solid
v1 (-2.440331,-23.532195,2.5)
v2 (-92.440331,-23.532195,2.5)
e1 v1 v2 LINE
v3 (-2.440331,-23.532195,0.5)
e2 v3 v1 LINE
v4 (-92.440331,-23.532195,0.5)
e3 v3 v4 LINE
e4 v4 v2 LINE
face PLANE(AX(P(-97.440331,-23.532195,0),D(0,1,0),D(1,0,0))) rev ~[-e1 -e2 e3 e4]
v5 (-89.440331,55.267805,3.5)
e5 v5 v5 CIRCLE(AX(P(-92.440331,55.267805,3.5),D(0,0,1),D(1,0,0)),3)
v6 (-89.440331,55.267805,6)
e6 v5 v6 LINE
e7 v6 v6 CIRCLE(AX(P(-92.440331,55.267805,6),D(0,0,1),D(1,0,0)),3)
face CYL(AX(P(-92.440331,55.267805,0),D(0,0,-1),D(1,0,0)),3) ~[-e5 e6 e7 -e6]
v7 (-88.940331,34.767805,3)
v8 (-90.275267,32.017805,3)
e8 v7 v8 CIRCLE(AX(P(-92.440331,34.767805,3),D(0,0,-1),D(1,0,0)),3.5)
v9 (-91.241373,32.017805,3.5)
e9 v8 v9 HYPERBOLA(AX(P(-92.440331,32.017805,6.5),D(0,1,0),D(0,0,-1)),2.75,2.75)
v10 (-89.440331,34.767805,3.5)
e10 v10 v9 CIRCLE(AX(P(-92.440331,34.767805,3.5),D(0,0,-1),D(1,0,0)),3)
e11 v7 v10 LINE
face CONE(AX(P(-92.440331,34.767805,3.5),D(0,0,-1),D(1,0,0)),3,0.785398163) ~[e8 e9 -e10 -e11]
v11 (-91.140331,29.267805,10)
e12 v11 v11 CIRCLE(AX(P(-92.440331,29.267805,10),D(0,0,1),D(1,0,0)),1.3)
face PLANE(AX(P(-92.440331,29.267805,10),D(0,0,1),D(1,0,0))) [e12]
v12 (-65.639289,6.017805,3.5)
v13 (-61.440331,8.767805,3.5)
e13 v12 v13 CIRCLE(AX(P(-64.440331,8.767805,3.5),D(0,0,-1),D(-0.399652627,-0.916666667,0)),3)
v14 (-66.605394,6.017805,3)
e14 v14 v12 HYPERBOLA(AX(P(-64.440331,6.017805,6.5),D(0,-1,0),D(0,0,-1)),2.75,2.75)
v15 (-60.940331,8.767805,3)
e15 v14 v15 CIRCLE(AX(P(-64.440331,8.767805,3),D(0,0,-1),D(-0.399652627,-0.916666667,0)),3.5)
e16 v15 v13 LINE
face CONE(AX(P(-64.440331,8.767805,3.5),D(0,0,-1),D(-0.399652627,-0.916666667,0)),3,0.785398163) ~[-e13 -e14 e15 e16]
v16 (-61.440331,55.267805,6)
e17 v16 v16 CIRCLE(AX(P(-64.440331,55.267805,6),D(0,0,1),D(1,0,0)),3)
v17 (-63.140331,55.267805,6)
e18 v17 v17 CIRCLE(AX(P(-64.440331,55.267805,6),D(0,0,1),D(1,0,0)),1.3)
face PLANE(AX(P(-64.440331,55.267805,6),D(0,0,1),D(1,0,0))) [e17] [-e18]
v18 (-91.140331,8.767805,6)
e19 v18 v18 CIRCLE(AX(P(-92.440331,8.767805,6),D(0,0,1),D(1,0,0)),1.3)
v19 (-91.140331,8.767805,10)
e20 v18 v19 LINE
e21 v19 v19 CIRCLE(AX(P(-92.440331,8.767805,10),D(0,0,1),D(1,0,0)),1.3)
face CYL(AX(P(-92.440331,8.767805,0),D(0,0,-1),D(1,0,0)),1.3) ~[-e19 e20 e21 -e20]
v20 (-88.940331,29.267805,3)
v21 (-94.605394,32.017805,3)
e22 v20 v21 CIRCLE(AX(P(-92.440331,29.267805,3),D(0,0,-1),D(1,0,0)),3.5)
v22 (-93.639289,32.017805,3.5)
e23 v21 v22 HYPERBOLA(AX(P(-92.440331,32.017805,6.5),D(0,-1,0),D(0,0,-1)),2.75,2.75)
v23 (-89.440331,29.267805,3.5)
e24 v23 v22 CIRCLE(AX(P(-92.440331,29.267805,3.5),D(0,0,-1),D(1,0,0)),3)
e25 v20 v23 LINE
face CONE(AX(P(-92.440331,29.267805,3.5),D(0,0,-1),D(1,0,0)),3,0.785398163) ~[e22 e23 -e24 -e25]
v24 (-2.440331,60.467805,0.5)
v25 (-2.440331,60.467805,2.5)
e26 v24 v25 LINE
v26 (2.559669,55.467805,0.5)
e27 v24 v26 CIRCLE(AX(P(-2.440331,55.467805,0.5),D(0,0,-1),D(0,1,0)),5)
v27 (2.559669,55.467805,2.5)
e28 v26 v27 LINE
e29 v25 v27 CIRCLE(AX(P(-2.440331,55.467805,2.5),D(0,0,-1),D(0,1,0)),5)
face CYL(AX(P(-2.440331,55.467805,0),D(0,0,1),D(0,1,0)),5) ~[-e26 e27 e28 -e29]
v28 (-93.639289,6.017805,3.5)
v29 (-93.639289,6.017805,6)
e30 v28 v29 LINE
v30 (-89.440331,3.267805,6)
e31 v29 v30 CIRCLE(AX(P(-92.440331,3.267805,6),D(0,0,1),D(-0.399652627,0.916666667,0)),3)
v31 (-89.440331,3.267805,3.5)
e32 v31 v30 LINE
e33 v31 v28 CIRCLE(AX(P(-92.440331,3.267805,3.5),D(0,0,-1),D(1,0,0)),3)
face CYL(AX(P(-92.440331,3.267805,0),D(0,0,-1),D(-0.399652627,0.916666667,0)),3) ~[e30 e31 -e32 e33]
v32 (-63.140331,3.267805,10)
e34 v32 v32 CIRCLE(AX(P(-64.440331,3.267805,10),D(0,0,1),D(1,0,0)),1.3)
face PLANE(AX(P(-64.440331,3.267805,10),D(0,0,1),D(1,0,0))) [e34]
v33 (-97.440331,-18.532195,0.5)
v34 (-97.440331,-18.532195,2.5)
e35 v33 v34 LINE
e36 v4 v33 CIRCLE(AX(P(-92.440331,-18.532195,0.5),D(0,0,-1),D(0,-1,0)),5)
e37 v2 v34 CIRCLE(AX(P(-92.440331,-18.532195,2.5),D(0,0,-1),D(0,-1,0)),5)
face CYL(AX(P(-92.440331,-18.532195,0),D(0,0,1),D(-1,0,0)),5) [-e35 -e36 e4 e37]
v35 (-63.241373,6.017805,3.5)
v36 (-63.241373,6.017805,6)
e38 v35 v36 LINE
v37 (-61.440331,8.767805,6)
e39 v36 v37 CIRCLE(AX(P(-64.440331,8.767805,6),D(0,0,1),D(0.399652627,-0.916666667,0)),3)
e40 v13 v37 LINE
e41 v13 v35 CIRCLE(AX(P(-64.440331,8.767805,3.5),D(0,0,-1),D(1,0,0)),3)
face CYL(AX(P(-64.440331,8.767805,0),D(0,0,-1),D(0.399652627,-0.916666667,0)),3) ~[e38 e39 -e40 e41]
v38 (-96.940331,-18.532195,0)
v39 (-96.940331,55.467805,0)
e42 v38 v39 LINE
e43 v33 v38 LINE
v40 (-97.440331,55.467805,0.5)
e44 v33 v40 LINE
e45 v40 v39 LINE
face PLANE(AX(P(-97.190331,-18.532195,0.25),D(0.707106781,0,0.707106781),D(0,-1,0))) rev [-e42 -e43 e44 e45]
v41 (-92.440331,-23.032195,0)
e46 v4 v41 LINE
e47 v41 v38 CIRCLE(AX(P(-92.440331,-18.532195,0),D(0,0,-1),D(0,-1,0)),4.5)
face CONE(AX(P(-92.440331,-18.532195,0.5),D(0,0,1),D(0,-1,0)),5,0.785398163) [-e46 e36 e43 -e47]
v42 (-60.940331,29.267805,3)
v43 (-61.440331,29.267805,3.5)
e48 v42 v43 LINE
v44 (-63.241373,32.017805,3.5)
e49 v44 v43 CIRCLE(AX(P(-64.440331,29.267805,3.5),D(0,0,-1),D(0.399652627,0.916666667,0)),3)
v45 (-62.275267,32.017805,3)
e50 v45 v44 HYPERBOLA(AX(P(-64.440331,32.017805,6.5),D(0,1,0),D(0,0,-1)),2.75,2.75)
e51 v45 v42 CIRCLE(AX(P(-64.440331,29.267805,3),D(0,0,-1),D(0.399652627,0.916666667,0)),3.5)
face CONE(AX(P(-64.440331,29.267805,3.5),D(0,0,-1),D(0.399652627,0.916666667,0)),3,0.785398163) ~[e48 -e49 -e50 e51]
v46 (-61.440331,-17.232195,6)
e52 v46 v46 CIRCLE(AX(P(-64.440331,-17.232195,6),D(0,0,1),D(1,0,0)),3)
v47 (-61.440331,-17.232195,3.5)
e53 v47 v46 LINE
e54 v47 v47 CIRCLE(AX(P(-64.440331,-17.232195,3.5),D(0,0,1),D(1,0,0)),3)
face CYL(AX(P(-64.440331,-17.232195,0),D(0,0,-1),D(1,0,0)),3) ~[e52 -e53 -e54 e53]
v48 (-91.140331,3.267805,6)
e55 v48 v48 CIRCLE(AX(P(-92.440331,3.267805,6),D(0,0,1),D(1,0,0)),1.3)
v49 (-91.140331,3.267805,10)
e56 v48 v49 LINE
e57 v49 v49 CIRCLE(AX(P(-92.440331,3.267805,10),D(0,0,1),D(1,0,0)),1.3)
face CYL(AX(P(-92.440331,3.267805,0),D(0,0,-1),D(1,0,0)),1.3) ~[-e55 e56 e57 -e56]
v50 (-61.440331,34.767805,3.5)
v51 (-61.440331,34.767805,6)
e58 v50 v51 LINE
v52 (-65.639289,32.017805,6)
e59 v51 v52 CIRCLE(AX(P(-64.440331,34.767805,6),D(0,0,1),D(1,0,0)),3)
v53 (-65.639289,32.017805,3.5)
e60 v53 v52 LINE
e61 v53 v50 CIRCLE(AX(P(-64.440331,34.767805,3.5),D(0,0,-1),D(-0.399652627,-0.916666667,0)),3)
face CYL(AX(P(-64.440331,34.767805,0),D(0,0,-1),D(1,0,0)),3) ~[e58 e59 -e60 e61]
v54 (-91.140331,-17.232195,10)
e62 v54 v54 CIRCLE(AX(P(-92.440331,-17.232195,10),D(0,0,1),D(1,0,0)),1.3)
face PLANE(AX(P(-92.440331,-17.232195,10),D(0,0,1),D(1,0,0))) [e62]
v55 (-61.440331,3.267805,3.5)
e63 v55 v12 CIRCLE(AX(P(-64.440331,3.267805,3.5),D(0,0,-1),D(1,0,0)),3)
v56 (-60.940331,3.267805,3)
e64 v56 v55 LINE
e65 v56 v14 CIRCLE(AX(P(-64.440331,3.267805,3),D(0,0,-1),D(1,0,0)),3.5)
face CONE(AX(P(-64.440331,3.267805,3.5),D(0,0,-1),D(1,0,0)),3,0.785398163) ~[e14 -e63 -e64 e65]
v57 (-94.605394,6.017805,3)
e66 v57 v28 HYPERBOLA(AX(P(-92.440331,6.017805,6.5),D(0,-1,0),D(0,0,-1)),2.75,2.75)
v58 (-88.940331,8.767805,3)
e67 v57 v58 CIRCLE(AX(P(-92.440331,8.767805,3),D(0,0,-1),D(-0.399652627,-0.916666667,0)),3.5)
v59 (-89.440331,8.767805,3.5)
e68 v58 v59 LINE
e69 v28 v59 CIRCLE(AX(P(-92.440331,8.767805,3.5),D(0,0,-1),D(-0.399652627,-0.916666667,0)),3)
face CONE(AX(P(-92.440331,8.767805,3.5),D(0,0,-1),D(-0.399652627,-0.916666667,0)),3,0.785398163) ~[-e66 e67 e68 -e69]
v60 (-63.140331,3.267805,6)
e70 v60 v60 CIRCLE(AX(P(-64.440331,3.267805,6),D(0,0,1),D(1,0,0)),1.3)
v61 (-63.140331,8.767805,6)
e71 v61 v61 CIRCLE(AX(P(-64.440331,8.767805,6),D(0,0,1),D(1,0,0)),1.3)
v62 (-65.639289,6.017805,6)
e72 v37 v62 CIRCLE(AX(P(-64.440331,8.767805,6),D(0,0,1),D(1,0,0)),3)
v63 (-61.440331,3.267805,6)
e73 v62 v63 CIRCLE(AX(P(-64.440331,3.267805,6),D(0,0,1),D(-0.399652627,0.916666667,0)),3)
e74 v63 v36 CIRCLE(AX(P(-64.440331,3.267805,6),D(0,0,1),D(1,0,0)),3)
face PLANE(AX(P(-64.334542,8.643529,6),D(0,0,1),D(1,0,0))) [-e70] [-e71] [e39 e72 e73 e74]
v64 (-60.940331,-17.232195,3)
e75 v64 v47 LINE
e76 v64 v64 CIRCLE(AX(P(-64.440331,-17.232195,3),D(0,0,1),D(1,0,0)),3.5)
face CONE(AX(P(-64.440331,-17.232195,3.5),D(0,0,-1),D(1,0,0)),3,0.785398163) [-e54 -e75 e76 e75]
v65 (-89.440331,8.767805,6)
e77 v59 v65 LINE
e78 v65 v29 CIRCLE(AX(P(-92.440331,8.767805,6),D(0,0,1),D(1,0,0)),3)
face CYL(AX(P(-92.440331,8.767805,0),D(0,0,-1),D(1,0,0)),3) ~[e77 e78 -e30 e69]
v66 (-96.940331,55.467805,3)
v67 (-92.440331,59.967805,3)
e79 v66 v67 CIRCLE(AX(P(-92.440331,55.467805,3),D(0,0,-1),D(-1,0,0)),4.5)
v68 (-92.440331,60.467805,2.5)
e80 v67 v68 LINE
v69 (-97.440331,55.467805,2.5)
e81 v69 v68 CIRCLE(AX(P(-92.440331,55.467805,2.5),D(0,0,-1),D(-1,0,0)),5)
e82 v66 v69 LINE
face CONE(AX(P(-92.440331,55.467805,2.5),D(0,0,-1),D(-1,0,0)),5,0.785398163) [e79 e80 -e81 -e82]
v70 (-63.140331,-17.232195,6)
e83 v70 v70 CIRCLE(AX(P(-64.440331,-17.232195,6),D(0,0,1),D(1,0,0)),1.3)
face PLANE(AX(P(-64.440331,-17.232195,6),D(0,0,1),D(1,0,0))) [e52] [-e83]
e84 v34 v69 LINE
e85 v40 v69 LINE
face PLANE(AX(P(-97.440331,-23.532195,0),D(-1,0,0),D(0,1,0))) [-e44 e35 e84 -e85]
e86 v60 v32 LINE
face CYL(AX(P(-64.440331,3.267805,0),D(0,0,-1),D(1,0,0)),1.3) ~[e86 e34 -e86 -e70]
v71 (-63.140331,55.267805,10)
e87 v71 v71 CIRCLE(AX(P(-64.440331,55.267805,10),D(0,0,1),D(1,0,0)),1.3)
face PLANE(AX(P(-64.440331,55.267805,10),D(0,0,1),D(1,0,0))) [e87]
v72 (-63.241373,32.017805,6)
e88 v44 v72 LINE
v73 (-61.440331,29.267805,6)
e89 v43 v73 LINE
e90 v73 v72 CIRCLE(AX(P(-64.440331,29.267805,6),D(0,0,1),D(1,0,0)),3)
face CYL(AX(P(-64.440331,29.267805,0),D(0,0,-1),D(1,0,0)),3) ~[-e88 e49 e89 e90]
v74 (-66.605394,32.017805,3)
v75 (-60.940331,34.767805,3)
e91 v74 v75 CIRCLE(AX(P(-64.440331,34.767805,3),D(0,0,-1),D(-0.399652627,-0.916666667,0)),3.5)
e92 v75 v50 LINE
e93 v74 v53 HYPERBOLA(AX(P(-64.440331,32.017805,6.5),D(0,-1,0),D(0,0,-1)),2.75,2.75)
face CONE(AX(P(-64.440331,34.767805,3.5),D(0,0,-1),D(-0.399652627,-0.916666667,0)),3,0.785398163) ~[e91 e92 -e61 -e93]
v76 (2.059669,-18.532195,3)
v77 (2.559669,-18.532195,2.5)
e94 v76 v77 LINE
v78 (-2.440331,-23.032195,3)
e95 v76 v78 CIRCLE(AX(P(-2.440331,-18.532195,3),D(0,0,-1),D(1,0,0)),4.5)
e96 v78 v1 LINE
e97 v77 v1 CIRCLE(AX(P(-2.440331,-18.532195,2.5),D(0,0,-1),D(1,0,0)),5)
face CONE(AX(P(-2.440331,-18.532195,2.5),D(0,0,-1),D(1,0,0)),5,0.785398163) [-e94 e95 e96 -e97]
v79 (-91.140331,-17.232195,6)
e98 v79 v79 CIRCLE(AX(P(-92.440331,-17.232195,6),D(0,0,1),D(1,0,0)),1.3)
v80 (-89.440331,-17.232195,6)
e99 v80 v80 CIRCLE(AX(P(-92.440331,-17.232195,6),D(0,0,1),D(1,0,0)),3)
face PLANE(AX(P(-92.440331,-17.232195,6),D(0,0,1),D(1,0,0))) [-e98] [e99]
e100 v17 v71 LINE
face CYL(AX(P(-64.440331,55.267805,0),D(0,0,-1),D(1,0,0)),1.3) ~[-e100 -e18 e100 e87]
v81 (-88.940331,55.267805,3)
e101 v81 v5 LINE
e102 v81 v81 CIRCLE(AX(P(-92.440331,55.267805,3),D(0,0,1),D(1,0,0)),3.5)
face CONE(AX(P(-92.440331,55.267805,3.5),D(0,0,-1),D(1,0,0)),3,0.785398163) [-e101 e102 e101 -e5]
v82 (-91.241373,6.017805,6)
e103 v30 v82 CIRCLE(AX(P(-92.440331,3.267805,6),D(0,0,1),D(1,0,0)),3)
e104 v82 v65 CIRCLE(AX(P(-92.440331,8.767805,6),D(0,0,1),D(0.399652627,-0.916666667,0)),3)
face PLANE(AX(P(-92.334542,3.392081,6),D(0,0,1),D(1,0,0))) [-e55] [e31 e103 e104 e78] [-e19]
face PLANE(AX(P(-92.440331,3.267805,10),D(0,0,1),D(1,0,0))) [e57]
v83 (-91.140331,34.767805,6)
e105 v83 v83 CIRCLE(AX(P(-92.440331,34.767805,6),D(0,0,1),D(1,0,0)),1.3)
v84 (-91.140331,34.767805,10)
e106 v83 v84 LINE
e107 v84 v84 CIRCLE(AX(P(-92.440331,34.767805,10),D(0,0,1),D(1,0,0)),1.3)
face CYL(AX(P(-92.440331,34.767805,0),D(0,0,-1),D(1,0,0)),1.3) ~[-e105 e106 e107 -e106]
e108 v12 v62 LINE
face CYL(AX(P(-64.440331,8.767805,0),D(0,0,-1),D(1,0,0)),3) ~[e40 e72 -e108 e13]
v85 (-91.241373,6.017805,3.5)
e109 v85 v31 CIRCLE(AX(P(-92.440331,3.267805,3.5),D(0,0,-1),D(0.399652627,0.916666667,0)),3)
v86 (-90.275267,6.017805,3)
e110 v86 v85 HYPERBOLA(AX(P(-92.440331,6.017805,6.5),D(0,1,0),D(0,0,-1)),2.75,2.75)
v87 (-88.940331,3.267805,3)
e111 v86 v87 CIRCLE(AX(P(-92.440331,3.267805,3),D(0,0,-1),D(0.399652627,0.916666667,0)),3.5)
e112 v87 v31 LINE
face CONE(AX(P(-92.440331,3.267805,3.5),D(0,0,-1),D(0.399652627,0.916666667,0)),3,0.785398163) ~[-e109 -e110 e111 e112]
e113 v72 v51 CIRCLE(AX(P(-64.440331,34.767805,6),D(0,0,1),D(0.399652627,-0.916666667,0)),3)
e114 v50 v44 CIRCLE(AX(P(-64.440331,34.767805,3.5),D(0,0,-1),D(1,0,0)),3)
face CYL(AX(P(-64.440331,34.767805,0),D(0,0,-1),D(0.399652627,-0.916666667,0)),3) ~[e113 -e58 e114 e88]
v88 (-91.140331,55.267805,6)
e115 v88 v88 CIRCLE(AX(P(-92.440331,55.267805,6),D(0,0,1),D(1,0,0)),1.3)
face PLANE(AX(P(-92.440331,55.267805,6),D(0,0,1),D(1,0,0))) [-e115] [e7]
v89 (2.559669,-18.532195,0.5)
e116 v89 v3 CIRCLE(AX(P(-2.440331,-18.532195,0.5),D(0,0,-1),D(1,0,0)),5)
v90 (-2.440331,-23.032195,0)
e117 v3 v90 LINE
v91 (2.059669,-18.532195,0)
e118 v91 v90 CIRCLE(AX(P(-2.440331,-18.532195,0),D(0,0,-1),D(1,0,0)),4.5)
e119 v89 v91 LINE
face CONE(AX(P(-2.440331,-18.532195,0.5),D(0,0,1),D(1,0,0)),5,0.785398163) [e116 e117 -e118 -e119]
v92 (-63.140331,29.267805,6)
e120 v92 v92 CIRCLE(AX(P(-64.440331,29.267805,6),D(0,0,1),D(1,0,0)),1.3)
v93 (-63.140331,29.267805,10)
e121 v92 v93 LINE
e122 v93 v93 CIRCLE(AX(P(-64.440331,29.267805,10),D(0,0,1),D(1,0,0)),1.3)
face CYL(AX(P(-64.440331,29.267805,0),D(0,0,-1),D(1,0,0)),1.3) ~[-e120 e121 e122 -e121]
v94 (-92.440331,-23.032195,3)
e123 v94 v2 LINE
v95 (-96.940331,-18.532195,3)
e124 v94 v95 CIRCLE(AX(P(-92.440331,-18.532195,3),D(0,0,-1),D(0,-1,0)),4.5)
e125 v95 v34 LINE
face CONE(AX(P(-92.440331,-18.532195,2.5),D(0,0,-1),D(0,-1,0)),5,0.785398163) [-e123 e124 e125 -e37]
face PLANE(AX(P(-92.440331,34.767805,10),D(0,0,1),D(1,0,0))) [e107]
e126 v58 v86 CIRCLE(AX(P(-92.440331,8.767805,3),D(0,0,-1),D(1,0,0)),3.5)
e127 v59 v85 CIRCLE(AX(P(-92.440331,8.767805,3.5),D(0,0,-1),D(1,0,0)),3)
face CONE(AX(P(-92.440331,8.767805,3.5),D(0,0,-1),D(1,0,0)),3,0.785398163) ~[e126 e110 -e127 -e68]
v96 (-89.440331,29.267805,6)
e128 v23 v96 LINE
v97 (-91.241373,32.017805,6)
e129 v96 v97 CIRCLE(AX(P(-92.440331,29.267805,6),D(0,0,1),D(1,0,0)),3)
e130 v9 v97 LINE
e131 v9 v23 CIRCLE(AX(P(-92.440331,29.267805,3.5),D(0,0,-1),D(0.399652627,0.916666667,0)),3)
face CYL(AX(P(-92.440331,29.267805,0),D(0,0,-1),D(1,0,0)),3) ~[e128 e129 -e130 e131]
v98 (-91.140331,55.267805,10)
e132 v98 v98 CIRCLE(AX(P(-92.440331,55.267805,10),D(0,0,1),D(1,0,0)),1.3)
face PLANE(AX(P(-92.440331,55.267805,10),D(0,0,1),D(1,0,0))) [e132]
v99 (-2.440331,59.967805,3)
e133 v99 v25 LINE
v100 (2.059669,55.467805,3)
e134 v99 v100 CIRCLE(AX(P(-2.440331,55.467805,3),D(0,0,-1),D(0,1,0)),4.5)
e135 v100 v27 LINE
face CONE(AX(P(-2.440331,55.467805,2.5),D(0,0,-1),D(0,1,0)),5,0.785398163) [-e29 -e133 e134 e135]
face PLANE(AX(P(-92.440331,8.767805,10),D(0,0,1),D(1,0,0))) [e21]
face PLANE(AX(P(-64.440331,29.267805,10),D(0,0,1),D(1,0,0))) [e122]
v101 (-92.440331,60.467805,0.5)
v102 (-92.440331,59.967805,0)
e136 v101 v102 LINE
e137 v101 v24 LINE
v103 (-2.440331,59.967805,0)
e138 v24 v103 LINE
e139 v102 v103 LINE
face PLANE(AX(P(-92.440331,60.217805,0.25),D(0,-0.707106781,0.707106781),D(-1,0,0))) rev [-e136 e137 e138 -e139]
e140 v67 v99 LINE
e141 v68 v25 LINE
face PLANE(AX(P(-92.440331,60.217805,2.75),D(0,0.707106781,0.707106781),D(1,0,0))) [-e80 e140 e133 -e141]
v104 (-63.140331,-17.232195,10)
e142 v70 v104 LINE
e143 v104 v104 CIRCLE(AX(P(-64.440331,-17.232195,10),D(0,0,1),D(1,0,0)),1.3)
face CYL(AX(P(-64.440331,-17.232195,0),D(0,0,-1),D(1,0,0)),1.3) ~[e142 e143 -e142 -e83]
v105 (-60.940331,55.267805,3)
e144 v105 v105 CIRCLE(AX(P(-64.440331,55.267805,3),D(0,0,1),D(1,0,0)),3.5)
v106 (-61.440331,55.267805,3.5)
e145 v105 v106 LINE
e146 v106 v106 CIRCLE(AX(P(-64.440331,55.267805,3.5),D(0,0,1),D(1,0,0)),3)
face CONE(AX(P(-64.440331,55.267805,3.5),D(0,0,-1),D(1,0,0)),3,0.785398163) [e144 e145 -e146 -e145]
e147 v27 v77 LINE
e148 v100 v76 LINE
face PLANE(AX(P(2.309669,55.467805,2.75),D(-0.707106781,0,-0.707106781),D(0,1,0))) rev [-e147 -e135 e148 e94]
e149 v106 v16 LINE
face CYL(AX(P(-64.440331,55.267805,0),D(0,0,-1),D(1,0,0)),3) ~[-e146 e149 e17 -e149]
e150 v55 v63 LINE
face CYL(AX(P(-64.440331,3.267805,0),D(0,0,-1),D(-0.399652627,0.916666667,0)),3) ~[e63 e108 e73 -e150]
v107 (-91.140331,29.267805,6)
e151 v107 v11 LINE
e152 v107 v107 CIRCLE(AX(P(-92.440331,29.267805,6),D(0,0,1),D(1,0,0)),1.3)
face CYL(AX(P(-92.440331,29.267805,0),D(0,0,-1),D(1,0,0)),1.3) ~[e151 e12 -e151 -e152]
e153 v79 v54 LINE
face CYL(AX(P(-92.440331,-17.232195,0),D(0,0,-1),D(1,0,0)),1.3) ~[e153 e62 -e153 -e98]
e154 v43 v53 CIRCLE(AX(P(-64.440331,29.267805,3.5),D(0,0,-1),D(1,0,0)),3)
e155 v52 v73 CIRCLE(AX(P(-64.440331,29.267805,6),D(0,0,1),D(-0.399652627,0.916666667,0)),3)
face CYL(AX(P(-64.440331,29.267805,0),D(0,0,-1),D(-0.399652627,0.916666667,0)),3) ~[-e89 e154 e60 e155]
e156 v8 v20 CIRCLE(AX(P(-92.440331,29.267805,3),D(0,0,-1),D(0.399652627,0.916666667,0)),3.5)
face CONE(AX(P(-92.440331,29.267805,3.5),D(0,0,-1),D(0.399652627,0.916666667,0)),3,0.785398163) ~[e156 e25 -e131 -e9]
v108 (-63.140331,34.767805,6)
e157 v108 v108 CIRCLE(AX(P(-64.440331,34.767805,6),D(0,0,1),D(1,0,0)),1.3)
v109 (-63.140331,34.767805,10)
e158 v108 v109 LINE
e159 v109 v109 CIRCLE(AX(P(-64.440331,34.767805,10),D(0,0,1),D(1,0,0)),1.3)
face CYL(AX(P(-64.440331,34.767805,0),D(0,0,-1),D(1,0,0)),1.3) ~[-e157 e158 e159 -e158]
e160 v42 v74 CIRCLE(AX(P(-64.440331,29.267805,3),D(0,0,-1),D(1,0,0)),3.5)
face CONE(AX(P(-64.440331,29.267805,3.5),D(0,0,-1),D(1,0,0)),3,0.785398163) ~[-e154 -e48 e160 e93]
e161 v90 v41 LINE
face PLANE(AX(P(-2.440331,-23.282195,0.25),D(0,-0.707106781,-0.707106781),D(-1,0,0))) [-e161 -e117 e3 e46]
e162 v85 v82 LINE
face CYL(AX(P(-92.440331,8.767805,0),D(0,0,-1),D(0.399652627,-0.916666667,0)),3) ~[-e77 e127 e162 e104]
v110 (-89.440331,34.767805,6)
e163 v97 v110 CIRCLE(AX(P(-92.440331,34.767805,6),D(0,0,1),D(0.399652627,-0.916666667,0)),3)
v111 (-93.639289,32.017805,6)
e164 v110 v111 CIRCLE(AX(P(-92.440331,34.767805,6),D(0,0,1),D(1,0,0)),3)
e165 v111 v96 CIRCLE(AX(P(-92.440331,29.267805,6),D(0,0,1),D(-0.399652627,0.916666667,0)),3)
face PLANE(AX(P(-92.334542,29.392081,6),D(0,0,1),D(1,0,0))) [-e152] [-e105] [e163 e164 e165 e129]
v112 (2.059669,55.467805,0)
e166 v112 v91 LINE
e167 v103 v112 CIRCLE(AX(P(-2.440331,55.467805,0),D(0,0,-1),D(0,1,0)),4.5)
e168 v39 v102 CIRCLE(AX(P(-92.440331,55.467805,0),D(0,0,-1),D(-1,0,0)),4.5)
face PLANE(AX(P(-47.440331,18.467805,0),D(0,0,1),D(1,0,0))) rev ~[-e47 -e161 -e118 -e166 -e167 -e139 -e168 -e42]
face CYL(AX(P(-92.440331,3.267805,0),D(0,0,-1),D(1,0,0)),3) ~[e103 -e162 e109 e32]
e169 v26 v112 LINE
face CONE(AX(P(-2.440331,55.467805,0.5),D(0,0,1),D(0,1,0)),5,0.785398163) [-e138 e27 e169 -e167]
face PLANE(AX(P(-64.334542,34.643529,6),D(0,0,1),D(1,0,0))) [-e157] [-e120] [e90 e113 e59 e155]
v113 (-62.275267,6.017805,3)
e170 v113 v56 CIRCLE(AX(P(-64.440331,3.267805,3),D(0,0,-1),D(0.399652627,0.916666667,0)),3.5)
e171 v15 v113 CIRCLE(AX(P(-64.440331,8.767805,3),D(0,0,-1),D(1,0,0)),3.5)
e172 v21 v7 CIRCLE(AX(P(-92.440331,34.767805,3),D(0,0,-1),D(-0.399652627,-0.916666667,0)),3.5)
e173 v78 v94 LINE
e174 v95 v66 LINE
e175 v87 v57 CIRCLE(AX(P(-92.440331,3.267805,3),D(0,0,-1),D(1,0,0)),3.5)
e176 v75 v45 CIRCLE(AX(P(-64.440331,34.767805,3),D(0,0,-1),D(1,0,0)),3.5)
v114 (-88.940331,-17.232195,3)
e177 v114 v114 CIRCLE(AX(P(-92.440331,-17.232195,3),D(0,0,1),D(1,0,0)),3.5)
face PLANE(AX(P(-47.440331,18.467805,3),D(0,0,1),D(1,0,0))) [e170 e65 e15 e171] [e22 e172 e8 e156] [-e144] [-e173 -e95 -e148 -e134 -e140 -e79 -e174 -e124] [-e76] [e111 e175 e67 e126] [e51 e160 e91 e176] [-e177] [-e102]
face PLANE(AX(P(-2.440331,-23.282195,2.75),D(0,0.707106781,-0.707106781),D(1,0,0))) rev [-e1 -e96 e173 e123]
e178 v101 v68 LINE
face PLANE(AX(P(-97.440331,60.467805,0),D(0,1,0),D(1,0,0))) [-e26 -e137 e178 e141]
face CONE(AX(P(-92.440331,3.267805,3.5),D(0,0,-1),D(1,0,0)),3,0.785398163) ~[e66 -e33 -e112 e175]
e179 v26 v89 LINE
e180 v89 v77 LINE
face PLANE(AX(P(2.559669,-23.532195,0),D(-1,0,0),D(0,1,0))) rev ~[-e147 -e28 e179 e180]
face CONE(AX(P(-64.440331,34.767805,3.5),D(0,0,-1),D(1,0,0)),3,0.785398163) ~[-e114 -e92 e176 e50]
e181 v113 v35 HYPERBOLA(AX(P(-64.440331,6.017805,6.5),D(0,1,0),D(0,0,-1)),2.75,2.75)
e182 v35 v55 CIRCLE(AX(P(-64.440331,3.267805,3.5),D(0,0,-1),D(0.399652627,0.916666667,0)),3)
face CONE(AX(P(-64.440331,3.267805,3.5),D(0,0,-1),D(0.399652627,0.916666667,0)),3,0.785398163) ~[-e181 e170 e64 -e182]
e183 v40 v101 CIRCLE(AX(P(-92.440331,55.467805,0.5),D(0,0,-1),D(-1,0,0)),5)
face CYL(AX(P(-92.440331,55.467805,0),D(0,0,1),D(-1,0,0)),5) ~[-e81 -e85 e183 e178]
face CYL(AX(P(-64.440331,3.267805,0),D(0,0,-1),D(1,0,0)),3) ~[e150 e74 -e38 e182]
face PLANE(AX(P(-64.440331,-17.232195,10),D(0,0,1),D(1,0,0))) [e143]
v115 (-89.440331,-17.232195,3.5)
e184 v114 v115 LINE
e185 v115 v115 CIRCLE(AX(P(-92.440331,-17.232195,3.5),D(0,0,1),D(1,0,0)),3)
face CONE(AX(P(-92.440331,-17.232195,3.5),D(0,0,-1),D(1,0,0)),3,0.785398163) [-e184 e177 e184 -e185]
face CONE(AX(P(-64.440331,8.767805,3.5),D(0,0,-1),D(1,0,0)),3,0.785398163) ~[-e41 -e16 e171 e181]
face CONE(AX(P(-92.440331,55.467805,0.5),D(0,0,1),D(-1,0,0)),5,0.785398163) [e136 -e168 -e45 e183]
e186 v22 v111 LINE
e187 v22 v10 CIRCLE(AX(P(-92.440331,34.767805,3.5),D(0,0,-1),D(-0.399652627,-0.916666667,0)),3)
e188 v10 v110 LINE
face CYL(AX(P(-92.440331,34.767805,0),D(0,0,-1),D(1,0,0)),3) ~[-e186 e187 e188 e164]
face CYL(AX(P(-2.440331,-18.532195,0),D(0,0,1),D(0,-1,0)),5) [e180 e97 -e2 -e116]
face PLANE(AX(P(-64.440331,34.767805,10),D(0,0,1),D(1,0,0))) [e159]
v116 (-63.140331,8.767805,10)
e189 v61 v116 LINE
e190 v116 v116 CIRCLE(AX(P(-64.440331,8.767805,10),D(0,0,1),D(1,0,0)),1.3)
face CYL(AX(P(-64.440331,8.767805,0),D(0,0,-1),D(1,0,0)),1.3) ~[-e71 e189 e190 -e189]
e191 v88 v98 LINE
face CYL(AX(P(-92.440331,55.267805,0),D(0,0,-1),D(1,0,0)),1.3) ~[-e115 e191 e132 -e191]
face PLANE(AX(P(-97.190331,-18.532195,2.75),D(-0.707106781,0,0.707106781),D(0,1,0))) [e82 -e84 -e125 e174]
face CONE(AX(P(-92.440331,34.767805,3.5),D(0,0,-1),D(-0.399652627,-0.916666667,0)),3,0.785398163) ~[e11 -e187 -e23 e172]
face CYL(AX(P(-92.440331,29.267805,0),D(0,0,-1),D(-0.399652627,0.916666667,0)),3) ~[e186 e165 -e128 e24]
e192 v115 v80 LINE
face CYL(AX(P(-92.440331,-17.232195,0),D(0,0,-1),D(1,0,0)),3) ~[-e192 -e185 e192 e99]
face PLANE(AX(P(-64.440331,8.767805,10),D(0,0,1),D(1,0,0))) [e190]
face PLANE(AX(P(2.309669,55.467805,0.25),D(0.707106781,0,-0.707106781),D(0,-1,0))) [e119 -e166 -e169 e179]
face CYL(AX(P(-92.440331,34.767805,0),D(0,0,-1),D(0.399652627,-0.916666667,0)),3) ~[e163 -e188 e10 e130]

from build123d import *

# Parameters (mm, degrees)
F0_R     = 1.3
F1_DEPTH = 10
F0_R_2   = 3
F2_DEPTH = 6
F0_W     = 100
F0_H     = 84
F3_DEPTH = 3
F5_R     = 5
F6_SIZE  = 0.5
F7_SIZE  = 0.5


with BuildPart() as f1:
    # F0 (on Top) → F1 (new body)
    with BuildSketch(Plane.XY):
        with Locations((-92.4403309263, 55.2678049833)):
            Circle(F0_R)
    extrude(amount=F1_DEPTH)


with BuildPart() as f1b:
    # F0 (on Top) → F1, piece 2 (new body)
    with BuildSketch(Plane.XY):
        with Locations((-64.4403309263, 55.2678049833)):
            Circle(F0_R)
    extrude(amount=F1_DEPTH)


with BuildPart() as f1c:
    # F0 (on Top) → F1, piece 3 (new body)
    with BuildSketch(Plane.XY):
        with Locations((-64.4403309263, 34.7678049833)):
            Circle(F0_R)
    extrude(amount=F1_DEPTH)


with BuildPart() as f1d:
    # F0 (on Top) → F1, piece 4 (new body)
    with BuildSketch(Plane.XY):
        with Locations((-64.4403309263, 29.2678049833)):
            Circle(F0_R)
    extrude(amount=F1_DEPTH)


with BuildPart() as f1e:
    # F0 (on Top) → F1, piece 5 (new body)
    with BuildSketch(Plane.XY):
        with Locations((-64.4403309263, 8.7678049833)):
            Circle(F0_R)
    extrude(amount=F1_DEPTH)


with BuildPart() as f1f:
    # F0 (on Top) → F1, piece 6 (new body)
    with BuildSketch(Plane.XY):
        with Locations((-64.4403309263, 3.2678049833)):
            Circle(F0_R)
    extrude(amount=F1_DEPTH)


with BuildPart() as f1g:
    # F0 (on Top) → F1, piece 7 (new body)
    with BuildSketch(Plane.XY):
        with Locations((-64.4403309263, -17.2321950167)):
            Circle(F0_R)
    extrude(amount=F1_DEPTH)


with BuildPart() as f1h:
    # F0 (on Top) → F1, piece 8 (new body)
    with BuildSketch(Plane.XY):
        with Locations((-92.4403309263, -17.2321950167)):
            Circle(F0_R)
    extrude(amount=F1_DEPTH)


with BuildPart() as f1i:
    # F0 (on Top) → F1, piece 9 (new body)
    with BuildSketch(Plane.XY):
        with Locations((-92.4403309263, 3.2678049833)):
            Circle(F0_R)
    extrude(amount=F1_DEPTH)


with BuildPart() as f1j:
    # F0 (on Top) → F1, piece 10 (new body)
    with BuildSketch(Plane.XY):
        with Locations((-92.4403309263, 8.7678049833)):
            Circle(F0_R)
    extrude(amount=F1_DEPTH)


with BuildPart() as f1k:
    # F0 (on Top) → F1, piece 11 (new body)
    with BuildSketch(Plane.XY):
        with Locations((-92.4403309263, 29.2678049833)):
            Circle(F0_R)
    extrude(amount=F1_DEPTH)


with BuildPart() as f1l:
    # F0 (on Top) → F1, piece 12 (new body)
    with BuildSketch(Plane.XY):
        with Locations((-92.4403309263, 34.7678049833)):
            Circle(F0_R)
    extrude(amount=F1_DEPTH)


with BuildPart() as f2:
    # F0 (on Top) → F2 (new body)
    with BuildSketch(Plane.XY):
        with Locations((-92.4403309263, 55.2678049833)):
            Circle(F0_R_2)
        with Locations((-92.4403309263, 55.2678049833)):
            Circle(F0_R, mode=Mode.SUBTRACT)
    extrude(amount=F2_DEPTH)


with BuildPart() as f2b:
    # F0 (on Top) → F2, piece 2 (new body)
    with BuildSketch(Plane.XY):
        with Locations((-64.4403309263, 55.2678049833)):
            Circle(F0_R_2)
        with Locations((-64.4403309263, 55.2678049833)):
            Circle(F0_R, mode=Mode.SUBTRACT)
    extrude(amount=F2_DEPTH)


with BuildPart() as f2c:
    # F0 (on Top) → F2, piece 3 (new body)
    with BuildSketch(Plane.XY):
        with BuildLine():
            ThreePointArc((-63.2413730455, 32.0178049833), (-61.9306622587, 33.1241617194), (-61.4403309263, 34.7678049833))
            ThreePointArc((-61.4403309263, 34.7678049833), (-66.0839741902, 37.2774736509), (-65.6392888072, 32.0178049833))
            ThreePointArc((-65.6392888072, 32.0178049833), (-64.4403309263, 32.2678049833), (-63.2413730455, 32.0178049833))
        make_face()
        with Locations((-64.4403309263, 34.7678049833)):
            Circle(F0_R, mode=Mode.SUBTRACT)
        with BuildLine():
            ThreePointArc((-63.2413730455, 32.0178049833), (-64.4403309263, 31.7678049833), (-65.6392888072, 32.0178049833))
            ThreePointArc((-65.6392888072, 32.0178049833), (-66.0839741902, 26.7581363156), (-61.4403309263, 29.2678049833))
            ThreePointArc((-61.4403309263, 29.2678049833), (-61.9306622587, 30.9114482471), (-63.2413730455, 32.0178049833))
        make_face()
        with Locations((-64.4403309263, 29.2678049833)):
            Circle(F0_R, mode=Mode.SUBTRACT)
        with BuildLine():
            ThreePointArc((-63.2413730455, 32.0178049833), (-64.4403309263, 32.2678049833), (-65.6392888072, 32.0178049833))
            ThreePointArc((-65.6392888072, 32.0178049833), (-64.4403309263, 31.7678049833), (-63.2413730455, 32.0178049833))
        make_face()
    extrude(amount=F2_DEPTH)


with BuildPart() as f2d:
    # F0 (on Top) → F2, piece 4 (new body)
    with BuildSketch(Plane.XY):
        with BuildLine():
            ThreePointArc((-63.2413730455, 6.0178049833), (-61.9306622587, 7.1241617194), (-61.4403309263, 8.7678049833))
            ThreePointArc((-61.4403309263, 8.7678049833), (-66.0839741902, 11.2774736509), (-65.6392888072, 6.0178049833))
            ThreePointArc((-65.6392888072, 6.0178049833), (-64.4403309263, 6.2678049833), (-63.2413730455, 6.0178049833))
        make_face()
        with Locations((-64.4403309263, 8.7678049833)):
            Circle(F0_R, mode=Mode.SUBTRACT)
        with BuildLine():
            ThreePointArc((-63.2413730455, 6.0178049833), (-64.4403309263, 5.7678049833), (-65.6392888072, 6.0178049833))
            ThreePointArc((-65.6392888072, 6.0178049833), (-66.0839741902, 0.7581363156), (-61.4403309263, 3.2678049833))
            ThreePointArc((-61.4403309263, 3.2678049833), (-61.9306622587, 4.9114482471), (-63.2413730455, 6.0178049833))
        make_face()
        with Locations((-64.4403309263, 3.2678049833)):
            Circle(F0_R, mode=Mode.SUBTRACT)
        with BuildLine():
            ThreePointArc((-63.2413730455, 6.0178049833), (-64.4403309263, 6.2678049833), (-65.6392888072, 6.0178049833))
            ThreePointArc((-65.6392888072, 6.0178049833), (-64.4403309263, 5.7678049833), (-63.2413730455, 6.0178049833))
        make_face()
    extrude(amount=F2_DEPTH)


with BuildPart() as f2e:
    # F0 (on Top) → F2, piece 5 (new body)
    with BuildSketch(Plane.XY):
        with Locations((-64.4403309263, -17.2321950167)):
            Circle(F0_R_2)
        with Locations((-64.4403309263, -17.2321950167)):
            Circle(F0_R, mode=Mode.SUBTRACT)
    extrude(amount=F2_DEPTH)


with BuildPart() as f2f:
    # F0 (on Top) → F2, piece 6 (new body)
    with BuildSketch(Plane.XY):
        with Locations((-92.4403309263, -17.2321950167)):
            Circle(F0_R_2)
        with Locations((-92.4403309263, -17.2321950167)):
            Circle(F0_R, mode=Mode.SUBTRACT)
    extrude(amount=F2_DEPTH)


with BuildPart() as f2g:
    # F0 (on Top) → F2, piece 7 (new body)
    with BuildSketch(Plane.XY):
        with BuildLine():
            ThreePointArc((-91.2413730455, 6.0178049833), (-92.4403309263, 5.7678049833), (-93.6392888072, 6.0178049833))
            ThreePointArc((-93.6392888072, 6.0178049833), (-94.0839741902, 0.7581363156), (-89.4403309263, 3.2678049833))
            ThreePointArc((-89.4403309263, 3.2678049833), (-89.9306622587, 4.9114482471), (-91.2413730455, 6.0178049833))
        make_face()
        with Locations((-92.4403309263, 3.2678049833)):
            Circle(F0_R, mode=Mode.SUBTRACT)
        with BuildLine():
            ThreePointArc((-91.2413730455, 6.0178049833), (-89.9306622587, 7.1241617194), (-89.4403309263, 8.7678049833))
            ThreePointArc((-89.4403309263, 8.7678049833), (-94.0839741902, 11.2774736509), (-93.6392888072, 6.0178049833))
            ThreePointArc((-93.6392888072, 6.0178049833), (-92.4403309263, 6.2678049833), (-91.2413730455, 6.0178049833))
        make_face()
        with Locations((-92.4403309263, 8.7678049833)):
            Circle(F0_R, mode=Mode.SUBTRACT)
        with BuildLine():
            ThreePointArc((-91.2413730455, 6.0178049833), (-92.4403309263, 6.2678049833), (-93.6392888072, 6.0178049833))
            ThreePointArc((-93.6392888072, 6.0178049833), (-92.4403309263, 5.7678049833), (-91.2413730455, 6.0178049833))
        make_face()
    extrude(amount=F2_DEPTH)


with BuildPart() as f2h:
    # F0 (on Top) → F2, piece 8 (new body)
    with BuildSketch(Plane.XY):
        with BuildLine():
            ThreePointArc((-91.2413730455, 32.0178049833), (-92.4403309263, 31.7678049833), (-93.6392888072, 32.0178049833))
            ThreePointArc((-93.6392888072, 32.0178049833), (-94.0839741902, 26.7581363156), (-89.4403309263, 29.2678049833))
            ThreePointArc((-89.4403309263, 29.2678049833), (-89.9306622587, 30.9114482471), (-91.2413730455, 32.0178049833))
        make_face()
        with Locations((-92.4403309263, 29.2678049833)):
            Circle(F0_R, mode=Mode.SUBTRACT)
        with BuildLine():
            ThreePointArc((-91.2413730455, 32.0178049833), (-89.9306622587, 33.1241617194), (-89.4403309263, 34.7678049833))
            ThreePointArc((-89.4403309263, 34.7678049833), (-94.0839741902, 37.2774736509), (-93.6392888072, 32.0178049833))
            ThreePointArc((-93.6392888072, 32.0178049833), (-92.4403309263, 32.2678049833), (-91.2413730455, 32.0178049833))
        make_face()
        with Locations((-92.4403309263, 34.7678049833)):
            Circle(F0_R, mode=Mode.SUBTRACT)
        with BuildLine():
            ThreePointArc((-91.2413730455, 32.0178049833), (-92.4403309263, 32.2678049833), (-93.6392888072, 32.0178049833))
            ThreePointArc((-93.6392888072, 32.0178049833), (-92.4403309263, 31.7678049833), (-91.2413730455, 32.0178049833))
        make_face()
    extrude(amount=F2_DEPTH)


with BuildPart() as f3:
    # F0 (on Top) → F3 (new body)
    with BuildSketch(Plane.XY):
        with Locations((-47.4403309263, 18.4678049833)):
            Rectangle(F0_W, F0_H)
        with Locations((-92.4403309263, -17.2321950167)):
            Circle(F0_R_2, mode=Mode.SUBTRACT)
        with Locations((-64.4403309263, -17.2321950167)):
            Circle(F0_R_2, mode=Mode.SUBTRACT)
        with BuildLine():
            ThreePointArc((-93.6392888072, 6.0178049833), (-94.0839741902, 11.2774736509), (-89.4403309263, 8.7678049833))
            ThreePointArc((-89.4403309263, 8.7678049833), (-89.9306622587, 7.1241617194), (-91.2413730455, 6.0178049833))
            ThreePointArc((-91.2413730455, 6.0178049833), (-89.9306622587, 4.9114482471), (-89.4403309263, 3.2678049833))
            ThreePointArc((-89.4403309263, 3.2678049833), (-94.0839741902, 0.7581363156), (-93.6392888072, 6.0178049833))
        make_face(mode=Mode.SUBTRACT)
        with BuildLine():
            ThreePointArc((-65.6392888072, 6.0178049833), (-66.0839741902, 11.2774736509), (-61.4403309263, 8.7678049833))
            ThreePointArc((-61.4403309263, 8.7678049833), (-61.9306622587, 7.1241617194), (-63.2413730455, 6.0178049833))
            ThreePointArc((-63.2413730455, 6.0178049833), (-61.9306622587, 4.9114482471), (-61.4403309263, 3.2678049833))
            ThreePointArc((-61.4403309263, 3.2678049833), (-66.0839741902, 0.7581363156), (-65.6392888072, 6.0178049833))
        make_face(mode=Mode.SUBTRACT)
        with BuildLine():
            ThreePointArc((-93.6392888072, 32.0178049833), (-94.0839741902, 37.2774736509), (-89.4403309263, 34.7678049833))
            ThreePointArc((-89.4403309263, 34.7678049833), (-89.9306622587, 33.1241617194), (-91.2413730455, 32.0178049833))
            ThreePointArc((-91.2413730455, 32.0178049833), (-89.9306622587, 30.9114482471), (-89.4403309263, 29.2678049833))
            ThreePointArc((-89.4403309263, 29.2678049833), (-94.0839741902, 26.7581363156), (-93.6392888072, 32.0178049833))
        make_face(mode=Mode.SUBTRACT)
        with BuildLine():
            ThreePointArc((-65.6392888072, 32.0178049833), (-66.0839741902, 37.2774736509), (-61.4403309263, 34.7678049833))
            ThreePointArc((-61.4403309263, 34.7678049833), (-61.9306622587, 33.1241617194), (-63.2413730455, 32.0178049833))
            ThreePointArc((-63.2413730455, 32.0178049833), (-61.9306622587, 30.9114482471), (-61.4403309263, 29.2678049833))
            ThreePointArc((-61.4403309263, 29.2678049833), (-66.0839741902, 26.7581363156), (-65.6392888072, 32.0178049833))
        make_face(mode=Mode.SUBTRACT)
        with Locations((-92.4403309263, 55.2678049833)):
            Circle(F0_R_2, mode=Mode.SUBTRACT)
        with Locations((-64.4403309263, 55.2678049833)):
            Circle(F0_R_2, mode=Mode.SUBTRACT)
    extrude(amount=F3_DEPTH)

    # F4: union F2, F2h, F2b, F2c, F2g, F2d, F2f, F2e, F1, F1l, F1b, F1c, F1k, F1d, F1j, F1e, F1i, F1f, F1h, F1g
    add(f2.part)
    add(f2h.part)
    add(f2b.part)
    add(f2c.part)
    add(f2g.part)
    add(f2d.part)
    add(f2f.part)
    add(f2e.part)
    add(f1.part)
    add(f1l.part)
    add(f1b.part)
    add(f1c.part)
    add(f1k.part)
    add(f1d.part)
    add(f1j.part)
    add(f1e.part)
    add(f1i.part)
    add(f1f.part)
    add(f1h.part)
    add(f1g.part)

    # F5
    f5_edges = [f3.edges().sort_by_distance(p)[0] for p in [
        (-97.440331, -23.532195, 1.5),
        (2.559669, -23.532195, 1.5),
        (2.559669, 60.467805, 1.5),
        (-97.440331, 60.467805, 1.5),
    ]]
    fillet(f5_edges, radius=F5_R)

    # F6
    f6_edges = [f3.edges().sort_by_distance(p)[0] for p in [
        (-47.440331, 60.467805, 0),
        (1.095203, 59.003339, 0),
        (-95.975865, 59.003339, 0),
        (2.559669, 18.467805, 0),
        (-97.440331, 18.467805, 0),
        (1.095203, -22.067729, 0),
        (-95.975865, -22.067729, 0),
        (-47.440331, -23.532195, 0),
    ]]
    chamfer(f6_edges, length=F6_SIZE)

    # F7
    f7_edges = [f3.edges().sort_by_distance(p)[0] for p in [
        (-47.440331, 60.467805, 3),
        (1.095203, 59.003339, 3),
        (-95.975865, 59.003339, 3),
        (2.559669, 18.467805, 3),
        (-97.440331, 18.467805, 3),
        (1.095203, -22.067729, 3),
        (-95.975865, -22.067729, 3),
        (-47.440331, -23.532195, 3),
        (-95.440331, -17.232195, 3),
        (-67.440331, -17.232195, 3),
        (-92.440331, 0.267805, 3),
        (-92.440331, 11.767805, 3),
        (-64.440331, 0.267805, 3),
        (-64.440331, 11.767805, 3),
        (-92.440331, 37.767805, 3),
        (-92.440331, 26.267805, 3),
        (-64.440331, 26.267805, 3),
        (-64.440331, 37.767805, 3),
        (-95.440331, 55.267805, 3),
        (-67.440331, 55.267805, 3),
    ]]
    chamfer(f7_edges, length=F7_SIZE)


solid = f3.part
